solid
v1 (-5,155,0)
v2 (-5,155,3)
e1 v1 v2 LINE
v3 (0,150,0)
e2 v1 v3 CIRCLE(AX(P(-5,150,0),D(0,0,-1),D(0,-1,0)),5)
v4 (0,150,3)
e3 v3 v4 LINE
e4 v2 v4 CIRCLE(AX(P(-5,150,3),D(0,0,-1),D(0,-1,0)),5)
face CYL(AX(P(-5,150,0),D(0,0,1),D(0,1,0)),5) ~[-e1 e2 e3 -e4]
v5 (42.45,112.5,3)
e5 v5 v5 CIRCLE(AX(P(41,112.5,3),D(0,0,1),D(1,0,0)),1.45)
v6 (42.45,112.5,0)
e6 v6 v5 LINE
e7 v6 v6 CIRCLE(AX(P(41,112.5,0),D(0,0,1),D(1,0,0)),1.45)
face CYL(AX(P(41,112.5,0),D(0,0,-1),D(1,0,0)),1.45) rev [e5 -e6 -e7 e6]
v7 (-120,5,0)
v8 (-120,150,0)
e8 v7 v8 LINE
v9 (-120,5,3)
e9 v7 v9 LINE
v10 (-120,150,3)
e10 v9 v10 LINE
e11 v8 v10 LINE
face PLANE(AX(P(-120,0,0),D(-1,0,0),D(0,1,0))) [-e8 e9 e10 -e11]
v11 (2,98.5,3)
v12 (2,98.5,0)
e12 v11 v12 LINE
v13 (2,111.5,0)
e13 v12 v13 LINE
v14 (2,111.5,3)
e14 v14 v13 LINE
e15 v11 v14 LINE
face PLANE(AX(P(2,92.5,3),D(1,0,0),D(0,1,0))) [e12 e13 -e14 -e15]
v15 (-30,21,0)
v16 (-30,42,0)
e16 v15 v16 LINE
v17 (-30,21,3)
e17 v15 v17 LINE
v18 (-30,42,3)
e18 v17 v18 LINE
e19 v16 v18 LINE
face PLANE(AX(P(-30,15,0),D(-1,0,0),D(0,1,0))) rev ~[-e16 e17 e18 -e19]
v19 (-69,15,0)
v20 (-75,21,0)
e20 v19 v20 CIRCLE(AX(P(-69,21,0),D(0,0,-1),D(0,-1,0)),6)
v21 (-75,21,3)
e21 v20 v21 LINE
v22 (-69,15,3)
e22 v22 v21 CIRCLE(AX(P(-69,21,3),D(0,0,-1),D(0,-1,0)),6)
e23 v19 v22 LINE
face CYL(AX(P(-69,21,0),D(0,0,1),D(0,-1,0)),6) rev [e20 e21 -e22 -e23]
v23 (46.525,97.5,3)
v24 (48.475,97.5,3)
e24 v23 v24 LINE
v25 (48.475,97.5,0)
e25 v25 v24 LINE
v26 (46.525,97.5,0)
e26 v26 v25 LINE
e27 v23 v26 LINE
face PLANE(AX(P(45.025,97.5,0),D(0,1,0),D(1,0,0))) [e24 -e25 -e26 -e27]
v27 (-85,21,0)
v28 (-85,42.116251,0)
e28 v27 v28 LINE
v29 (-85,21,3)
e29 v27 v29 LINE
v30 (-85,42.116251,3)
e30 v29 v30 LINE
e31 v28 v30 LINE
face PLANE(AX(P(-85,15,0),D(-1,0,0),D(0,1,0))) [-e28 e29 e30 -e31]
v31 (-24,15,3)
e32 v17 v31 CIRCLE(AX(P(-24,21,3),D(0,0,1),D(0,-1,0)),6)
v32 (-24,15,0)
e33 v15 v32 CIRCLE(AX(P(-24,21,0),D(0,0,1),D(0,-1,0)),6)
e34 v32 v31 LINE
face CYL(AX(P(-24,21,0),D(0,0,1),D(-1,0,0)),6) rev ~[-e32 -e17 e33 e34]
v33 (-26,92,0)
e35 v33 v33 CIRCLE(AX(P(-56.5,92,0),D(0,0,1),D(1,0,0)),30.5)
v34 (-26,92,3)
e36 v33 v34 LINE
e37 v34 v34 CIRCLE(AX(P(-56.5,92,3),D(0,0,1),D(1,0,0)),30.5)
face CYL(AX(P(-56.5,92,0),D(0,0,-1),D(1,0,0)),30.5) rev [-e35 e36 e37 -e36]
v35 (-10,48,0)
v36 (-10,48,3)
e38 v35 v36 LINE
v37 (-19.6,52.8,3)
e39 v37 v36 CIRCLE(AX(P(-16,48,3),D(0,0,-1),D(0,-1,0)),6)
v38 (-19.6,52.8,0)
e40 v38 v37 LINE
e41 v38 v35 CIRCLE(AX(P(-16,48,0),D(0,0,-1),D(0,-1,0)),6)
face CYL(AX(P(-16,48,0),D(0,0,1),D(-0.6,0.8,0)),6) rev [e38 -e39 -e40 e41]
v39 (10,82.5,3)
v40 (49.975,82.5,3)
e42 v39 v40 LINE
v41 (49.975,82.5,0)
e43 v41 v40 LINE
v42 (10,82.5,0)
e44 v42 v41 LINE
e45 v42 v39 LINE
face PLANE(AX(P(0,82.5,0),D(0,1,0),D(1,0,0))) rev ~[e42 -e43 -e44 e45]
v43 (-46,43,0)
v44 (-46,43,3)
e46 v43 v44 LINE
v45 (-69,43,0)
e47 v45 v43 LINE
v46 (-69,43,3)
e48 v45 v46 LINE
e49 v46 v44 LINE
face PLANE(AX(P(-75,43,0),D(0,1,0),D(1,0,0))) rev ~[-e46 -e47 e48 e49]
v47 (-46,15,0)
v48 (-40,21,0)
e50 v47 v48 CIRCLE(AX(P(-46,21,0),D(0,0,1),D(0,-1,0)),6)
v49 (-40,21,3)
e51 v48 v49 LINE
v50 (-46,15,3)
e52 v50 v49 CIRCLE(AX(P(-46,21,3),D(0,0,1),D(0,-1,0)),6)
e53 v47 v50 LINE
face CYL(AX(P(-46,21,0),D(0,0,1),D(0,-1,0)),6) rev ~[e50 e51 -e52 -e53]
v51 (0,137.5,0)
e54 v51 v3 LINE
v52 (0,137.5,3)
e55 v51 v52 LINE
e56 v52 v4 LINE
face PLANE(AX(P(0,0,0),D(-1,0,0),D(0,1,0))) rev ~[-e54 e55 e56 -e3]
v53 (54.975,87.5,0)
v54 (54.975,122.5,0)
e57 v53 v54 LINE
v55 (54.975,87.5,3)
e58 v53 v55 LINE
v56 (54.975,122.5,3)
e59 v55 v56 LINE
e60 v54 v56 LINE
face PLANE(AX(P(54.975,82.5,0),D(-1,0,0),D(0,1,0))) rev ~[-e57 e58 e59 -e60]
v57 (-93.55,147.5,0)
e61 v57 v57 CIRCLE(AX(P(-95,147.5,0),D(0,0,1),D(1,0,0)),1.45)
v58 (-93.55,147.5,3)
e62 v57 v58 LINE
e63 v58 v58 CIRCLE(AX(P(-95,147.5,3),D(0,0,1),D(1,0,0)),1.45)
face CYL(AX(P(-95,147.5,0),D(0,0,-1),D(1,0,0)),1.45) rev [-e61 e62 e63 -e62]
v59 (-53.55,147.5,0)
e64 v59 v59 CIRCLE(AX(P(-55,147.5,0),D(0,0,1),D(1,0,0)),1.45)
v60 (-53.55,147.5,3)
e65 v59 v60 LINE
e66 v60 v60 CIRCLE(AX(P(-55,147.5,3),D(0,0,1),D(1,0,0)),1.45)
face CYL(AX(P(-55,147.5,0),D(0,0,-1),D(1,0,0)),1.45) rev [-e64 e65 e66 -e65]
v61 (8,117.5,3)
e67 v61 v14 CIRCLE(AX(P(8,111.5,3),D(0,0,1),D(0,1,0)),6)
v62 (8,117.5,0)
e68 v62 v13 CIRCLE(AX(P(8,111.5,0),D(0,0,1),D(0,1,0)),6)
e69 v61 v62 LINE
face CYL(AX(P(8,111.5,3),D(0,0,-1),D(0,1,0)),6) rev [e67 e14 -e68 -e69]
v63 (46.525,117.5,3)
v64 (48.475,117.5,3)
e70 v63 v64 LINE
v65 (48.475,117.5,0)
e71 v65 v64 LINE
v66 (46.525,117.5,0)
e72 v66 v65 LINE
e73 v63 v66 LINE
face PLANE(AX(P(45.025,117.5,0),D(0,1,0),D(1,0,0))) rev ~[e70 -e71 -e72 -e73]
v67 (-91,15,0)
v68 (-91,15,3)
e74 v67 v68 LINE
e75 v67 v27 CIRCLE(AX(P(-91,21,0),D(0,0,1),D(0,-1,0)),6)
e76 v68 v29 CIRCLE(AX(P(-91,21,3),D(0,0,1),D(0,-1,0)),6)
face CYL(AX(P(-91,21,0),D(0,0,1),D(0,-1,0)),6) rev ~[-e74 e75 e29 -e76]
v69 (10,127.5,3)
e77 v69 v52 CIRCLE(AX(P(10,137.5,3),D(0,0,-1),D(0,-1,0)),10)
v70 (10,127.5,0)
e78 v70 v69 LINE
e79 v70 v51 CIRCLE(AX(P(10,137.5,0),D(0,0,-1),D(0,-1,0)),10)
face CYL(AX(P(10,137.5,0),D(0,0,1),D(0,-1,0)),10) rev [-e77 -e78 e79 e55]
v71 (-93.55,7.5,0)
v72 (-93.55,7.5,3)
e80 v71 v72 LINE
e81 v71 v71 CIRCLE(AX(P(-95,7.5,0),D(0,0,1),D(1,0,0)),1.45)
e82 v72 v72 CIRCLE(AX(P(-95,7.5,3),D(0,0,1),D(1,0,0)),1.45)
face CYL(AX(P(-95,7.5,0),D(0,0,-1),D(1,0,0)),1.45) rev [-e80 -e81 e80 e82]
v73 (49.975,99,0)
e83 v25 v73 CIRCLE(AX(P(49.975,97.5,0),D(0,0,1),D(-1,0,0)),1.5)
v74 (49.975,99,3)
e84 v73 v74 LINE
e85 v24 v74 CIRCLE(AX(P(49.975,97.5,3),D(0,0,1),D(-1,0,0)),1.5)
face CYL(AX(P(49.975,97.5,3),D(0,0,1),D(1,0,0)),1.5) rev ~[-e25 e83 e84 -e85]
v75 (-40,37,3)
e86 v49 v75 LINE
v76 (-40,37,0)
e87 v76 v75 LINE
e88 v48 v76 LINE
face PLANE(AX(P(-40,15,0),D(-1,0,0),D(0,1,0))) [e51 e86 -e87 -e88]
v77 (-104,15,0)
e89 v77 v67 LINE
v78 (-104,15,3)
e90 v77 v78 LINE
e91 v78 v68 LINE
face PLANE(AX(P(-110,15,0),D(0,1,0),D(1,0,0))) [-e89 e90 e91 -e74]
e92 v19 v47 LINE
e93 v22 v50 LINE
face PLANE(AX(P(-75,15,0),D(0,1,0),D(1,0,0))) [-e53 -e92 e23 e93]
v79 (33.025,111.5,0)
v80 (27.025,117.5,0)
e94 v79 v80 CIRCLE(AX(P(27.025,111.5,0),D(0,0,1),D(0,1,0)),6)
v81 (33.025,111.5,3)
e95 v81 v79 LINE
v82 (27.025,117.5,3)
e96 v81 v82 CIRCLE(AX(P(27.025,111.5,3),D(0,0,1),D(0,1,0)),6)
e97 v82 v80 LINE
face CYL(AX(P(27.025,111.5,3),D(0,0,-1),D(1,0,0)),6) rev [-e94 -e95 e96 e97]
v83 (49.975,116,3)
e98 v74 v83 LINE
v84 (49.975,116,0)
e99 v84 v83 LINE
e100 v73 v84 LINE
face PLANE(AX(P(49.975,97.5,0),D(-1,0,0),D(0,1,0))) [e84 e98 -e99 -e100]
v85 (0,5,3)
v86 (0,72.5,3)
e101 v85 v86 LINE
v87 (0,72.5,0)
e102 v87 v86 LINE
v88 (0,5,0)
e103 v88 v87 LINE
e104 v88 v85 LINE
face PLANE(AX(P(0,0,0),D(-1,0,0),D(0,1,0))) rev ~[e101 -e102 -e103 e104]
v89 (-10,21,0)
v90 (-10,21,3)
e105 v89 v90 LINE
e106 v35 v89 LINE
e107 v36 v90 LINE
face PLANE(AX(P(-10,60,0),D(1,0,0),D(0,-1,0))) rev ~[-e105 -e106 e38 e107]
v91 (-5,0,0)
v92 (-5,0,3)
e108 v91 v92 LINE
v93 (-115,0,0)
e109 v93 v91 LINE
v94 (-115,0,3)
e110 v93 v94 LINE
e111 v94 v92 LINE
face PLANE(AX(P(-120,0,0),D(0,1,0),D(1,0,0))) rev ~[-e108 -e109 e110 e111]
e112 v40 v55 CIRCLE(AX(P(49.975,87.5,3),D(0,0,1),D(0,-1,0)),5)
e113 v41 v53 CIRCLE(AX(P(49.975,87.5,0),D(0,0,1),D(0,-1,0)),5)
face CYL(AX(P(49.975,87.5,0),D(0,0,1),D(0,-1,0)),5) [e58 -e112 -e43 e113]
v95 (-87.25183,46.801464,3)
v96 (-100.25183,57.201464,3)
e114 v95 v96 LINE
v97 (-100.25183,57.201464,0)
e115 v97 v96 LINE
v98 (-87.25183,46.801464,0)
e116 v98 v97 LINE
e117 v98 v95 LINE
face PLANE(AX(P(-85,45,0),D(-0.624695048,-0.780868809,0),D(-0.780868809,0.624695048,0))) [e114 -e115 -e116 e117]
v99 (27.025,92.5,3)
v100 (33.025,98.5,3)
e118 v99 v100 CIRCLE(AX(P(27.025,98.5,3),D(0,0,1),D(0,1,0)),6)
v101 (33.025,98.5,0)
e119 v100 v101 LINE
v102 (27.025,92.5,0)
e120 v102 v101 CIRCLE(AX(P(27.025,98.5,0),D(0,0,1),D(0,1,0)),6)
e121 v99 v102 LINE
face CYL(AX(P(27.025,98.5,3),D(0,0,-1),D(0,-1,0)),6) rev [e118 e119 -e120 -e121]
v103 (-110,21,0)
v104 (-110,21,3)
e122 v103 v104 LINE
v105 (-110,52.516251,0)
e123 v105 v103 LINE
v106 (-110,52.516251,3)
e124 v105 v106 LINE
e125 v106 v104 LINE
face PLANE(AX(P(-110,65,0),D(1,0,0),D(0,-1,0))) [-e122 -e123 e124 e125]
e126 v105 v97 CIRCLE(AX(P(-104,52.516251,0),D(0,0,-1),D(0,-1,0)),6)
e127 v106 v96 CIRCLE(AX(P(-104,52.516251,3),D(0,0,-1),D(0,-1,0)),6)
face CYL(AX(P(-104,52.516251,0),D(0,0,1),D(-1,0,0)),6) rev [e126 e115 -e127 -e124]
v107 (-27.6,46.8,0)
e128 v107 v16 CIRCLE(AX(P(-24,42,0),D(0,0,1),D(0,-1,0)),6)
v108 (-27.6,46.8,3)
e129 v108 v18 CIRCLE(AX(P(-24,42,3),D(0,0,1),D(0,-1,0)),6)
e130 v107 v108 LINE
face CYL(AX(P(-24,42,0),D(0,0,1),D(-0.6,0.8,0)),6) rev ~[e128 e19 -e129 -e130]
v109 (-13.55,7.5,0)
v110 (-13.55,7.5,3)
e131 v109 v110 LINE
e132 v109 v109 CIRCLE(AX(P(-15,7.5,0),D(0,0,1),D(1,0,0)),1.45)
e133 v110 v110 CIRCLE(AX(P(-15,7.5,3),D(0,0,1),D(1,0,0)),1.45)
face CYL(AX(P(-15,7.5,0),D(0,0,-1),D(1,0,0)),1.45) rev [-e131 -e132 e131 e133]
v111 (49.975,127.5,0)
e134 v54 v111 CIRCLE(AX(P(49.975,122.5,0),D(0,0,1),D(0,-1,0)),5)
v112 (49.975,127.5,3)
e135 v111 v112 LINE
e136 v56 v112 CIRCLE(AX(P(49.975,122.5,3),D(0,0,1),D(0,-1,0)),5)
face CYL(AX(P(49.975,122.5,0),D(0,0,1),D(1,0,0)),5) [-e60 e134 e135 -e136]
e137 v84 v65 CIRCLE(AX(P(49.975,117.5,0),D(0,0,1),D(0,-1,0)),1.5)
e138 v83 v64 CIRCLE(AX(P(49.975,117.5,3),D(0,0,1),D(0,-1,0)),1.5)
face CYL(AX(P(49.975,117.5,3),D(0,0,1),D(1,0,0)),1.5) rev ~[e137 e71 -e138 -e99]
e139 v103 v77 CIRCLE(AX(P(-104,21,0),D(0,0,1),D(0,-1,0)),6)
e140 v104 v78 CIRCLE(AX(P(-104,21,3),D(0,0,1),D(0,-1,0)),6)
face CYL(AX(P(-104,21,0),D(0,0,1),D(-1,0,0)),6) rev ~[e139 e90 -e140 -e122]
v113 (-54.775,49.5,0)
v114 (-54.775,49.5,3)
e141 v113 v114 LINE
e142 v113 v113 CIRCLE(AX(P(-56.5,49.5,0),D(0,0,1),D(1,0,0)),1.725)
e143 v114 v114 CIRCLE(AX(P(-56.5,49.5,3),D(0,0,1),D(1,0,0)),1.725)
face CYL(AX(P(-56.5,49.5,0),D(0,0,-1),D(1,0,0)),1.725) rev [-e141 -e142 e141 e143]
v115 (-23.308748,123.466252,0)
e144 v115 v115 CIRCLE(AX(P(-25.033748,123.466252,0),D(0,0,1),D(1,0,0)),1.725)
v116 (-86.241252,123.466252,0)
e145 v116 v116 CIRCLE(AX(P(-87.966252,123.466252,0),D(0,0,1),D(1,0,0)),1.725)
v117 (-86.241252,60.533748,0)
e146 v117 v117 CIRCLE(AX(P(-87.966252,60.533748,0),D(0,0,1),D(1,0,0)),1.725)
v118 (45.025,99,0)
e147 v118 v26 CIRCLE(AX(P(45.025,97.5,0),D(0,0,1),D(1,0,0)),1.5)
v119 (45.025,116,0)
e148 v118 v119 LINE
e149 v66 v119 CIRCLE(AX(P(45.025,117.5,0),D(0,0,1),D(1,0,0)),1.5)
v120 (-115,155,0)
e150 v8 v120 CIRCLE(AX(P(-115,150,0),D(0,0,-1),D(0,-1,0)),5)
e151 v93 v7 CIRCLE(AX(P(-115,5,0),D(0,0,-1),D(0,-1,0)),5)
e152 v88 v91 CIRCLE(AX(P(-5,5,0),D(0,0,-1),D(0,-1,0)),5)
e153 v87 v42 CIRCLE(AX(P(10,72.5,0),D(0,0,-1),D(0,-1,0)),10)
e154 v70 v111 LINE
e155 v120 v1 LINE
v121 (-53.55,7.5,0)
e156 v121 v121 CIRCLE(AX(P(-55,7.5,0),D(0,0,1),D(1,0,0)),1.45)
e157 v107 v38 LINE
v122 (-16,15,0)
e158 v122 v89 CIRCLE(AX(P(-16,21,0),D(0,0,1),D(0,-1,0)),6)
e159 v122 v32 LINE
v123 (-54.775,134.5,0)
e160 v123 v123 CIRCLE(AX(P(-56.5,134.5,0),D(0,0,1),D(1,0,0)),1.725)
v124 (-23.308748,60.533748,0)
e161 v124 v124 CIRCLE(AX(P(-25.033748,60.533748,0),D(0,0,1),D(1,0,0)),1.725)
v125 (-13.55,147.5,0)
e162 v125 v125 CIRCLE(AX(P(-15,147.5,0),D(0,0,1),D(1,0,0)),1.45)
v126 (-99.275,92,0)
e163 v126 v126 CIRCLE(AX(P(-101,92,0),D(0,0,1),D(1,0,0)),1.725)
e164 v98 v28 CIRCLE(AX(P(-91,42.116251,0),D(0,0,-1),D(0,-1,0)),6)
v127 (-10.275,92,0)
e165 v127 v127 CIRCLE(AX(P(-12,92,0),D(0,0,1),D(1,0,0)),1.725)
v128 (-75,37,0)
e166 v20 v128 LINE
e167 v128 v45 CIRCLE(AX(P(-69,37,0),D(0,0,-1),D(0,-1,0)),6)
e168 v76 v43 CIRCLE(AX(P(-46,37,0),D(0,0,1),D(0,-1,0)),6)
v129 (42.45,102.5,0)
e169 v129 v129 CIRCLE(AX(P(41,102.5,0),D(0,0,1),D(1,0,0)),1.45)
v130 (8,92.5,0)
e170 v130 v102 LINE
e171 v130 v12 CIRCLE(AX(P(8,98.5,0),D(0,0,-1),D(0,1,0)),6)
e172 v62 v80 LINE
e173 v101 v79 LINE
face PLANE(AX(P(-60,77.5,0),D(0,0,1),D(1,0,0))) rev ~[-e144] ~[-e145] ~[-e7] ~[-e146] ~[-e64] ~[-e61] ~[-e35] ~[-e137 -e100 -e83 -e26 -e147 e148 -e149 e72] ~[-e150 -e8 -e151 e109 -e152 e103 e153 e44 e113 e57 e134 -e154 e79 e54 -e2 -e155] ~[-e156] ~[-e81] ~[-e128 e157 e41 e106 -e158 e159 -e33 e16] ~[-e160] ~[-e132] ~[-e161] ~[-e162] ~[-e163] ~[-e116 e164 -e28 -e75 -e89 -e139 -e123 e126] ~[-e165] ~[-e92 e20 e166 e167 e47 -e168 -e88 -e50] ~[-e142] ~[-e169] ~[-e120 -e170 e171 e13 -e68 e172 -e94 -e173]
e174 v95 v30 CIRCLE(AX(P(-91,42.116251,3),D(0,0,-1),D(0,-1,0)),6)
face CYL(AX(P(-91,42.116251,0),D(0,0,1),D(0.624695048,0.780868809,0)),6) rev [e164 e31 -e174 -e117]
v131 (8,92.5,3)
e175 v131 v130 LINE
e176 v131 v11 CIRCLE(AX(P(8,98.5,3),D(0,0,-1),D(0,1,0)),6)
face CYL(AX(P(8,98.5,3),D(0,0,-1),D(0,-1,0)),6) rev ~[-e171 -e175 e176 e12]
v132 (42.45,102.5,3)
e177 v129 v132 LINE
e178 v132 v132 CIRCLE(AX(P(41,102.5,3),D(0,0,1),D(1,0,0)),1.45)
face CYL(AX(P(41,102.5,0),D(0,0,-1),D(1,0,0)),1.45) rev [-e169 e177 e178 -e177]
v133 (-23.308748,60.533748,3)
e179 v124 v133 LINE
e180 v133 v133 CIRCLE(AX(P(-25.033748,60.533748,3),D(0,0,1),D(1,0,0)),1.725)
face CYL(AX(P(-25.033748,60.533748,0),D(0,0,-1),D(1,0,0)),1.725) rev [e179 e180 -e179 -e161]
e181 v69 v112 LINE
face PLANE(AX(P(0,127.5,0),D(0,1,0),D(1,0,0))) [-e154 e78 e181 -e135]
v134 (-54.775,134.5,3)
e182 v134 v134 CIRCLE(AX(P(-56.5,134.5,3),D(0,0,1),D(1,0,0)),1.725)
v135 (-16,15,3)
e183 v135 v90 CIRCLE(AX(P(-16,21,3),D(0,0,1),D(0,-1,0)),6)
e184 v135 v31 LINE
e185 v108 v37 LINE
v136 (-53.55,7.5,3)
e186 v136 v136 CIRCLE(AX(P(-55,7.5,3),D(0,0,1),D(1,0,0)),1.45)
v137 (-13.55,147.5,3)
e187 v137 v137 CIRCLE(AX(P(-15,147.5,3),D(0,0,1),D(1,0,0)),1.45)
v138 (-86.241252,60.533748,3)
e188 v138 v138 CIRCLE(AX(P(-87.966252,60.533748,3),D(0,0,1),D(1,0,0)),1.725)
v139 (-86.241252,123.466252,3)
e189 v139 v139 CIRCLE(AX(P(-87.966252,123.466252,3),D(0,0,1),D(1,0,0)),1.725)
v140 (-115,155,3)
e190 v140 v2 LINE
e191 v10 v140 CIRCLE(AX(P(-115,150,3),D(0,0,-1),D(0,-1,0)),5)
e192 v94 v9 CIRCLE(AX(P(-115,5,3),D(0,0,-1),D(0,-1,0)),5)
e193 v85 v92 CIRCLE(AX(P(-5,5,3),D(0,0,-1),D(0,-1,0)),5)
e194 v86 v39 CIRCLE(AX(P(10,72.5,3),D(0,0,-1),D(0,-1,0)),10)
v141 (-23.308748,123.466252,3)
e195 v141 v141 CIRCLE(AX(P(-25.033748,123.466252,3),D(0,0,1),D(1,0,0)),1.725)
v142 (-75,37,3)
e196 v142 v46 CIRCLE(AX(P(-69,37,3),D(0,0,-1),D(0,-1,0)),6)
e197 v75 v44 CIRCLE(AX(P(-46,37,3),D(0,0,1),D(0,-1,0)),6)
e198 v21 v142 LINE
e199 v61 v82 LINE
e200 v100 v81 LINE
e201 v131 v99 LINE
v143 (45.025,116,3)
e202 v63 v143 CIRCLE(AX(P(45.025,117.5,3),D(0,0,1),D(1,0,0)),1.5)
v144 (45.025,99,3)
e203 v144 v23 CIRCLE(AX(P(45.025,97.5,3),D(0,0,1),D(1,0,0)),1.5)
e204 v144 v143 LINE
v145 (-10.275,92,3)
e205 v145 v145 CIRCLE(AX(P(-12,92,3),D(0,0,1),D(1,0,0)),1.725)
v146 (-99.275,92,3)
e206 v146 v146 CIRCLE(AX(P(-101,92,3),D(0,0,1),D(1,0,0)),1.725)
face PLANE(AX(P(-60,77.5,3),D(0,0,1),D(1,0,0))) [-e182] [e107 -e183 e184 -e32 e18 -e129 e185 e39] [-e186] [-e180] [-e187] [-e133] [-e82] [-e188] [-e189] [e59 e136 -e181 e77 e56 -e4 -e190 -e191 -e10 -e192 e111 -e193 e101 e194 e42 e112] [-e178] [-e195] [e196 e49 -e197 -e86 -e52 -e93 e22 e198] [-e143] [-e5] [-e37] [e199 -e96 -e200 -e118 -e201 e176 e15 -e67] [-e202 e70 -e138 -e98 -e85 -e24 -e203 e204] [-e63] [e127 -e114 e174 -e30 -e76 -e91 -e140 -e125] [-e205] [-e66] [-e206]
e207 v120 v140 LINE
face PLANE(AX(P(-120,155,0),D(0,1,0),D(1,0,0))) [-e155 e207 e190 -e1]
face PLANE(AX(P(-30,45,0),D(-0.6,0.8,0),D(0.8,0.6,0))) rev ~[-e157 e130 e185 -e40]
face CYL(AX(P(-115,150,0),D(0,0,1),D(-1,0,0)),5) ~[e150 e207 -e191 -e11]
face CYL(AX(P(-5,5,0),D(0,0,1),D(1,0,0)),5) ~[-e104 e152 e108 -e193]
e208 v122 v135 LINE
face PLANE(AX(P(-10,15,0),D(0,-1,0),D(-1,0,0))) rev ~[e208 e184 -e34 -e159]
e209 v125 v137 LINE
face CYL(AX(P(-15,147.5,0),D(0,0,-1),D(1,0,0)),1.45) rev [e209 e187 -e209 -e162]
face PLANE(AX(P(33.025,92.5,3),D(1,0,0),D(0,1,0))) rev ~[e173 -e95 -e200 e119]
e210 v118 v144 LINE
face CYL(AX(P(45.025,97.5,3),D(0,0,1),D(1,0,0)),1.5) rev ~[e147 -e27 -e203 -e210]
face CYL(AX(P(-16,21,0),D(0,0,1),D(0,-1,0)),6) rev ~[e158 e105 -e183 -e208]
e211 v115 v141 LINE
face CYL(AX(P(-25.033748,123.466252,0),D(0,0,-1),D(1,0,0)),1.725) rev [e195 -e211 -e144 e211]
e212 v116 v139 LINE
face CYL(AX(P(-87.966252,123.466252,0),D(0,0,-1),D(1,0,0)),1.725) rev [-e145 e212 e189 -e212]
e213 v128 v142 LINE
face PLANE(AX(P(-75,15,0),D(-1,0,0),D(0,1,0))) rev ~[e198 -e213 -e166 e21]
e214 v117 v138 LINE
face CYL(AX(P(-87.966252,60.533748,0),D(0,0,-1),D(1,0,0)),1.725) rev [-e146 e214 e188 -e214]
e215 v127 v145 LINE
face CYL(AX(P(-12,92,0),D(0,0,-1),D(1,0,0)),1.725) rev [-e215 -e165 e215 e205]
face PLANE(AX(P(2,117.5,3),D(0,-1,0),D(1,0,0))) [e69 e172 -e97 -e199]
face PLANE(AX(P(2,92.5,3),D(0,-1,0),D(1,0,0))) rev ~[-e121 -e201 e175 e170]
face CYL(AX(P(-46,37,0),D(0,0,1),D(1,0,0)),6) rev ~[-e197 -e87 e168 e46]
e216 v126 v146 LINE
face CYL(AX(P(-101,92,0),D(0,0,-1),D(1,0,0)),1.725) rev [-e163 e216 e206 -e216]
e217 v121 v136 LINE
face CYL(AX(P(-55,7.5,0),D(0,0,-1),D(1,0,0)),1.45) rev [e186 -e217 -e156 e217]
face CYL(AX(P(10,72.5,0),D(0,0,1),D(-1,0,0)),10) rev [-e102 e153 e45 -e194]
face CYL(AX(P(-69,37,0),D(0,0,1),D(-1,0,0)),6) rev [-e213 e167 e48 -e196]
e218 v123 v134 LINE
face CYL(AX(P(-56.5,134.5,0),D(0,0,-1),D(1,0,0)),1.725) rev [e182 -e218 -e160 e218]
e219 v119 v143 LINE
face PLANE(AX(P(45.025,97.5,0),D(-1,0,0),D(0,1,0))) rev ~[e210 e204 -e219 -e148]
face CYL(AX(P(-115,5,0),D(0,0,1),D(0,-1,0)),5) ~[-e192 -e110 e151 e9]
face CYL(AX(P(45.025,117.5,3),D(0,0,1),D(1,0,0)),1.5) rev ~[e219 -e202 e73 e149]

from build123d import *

# Parameters (mm, degrees)
SKETCH_1_W          = 120
SKETCH_1_H          = 155
SKETCH_1_R          = 1.45
SKETCH_1_R_2        = 30.5
SKETCH_1_R_3        = 1.725
SKETCH_1_W_2        = 35
SKETCH_1_H_2        = 28
SKETCH_1_W_3        = 54.975
SKETCH_1_H_3        = 45
SKETCH_1_W_4        = 4.95
SKETCH_1_H_4        = 20
EXTRUDE_1_DEPTH     = 3
FILLET_1_R          = 6
FILLET_2_R          = 10
SKETCH_2_W          = 31.025
SKETCH_2_H          = 25
CUT_EXTRUDE_1_DEPTH = 197.04591299
FILLET_3_R          = 6
FILLET_4_R          = 5
SKETCH_3_R          = 1.5
CUT_EXTRUDE_2_DEPTH = 197.04591299


with BuildPart() as part:
    # 草图1 → 凸台-拉伸1 (new body)
    # profile 1 of 2: a face of its own
    with BuildSketch(Plane.XY):
        with Locations((-60, 77.5)):
            Rectangle(SKETCH_1_W, SKETCH_1_H)
        with Locations((-15, 7.5)):
            Circle(SKETCH_1_R, mode=Mode.SUBTRACT)
        with Locations((-55, 7.5)):
            Circle(SKETCH_1_R, mode=Mode.SUBTRACT)
        with Locations((-15, 147.5)):
            Circle(SKETCH_1_R, mode=Mode.SUBTRACT)
        with Locations((-55, 147.5)):
            Circle(SKETCH_1_R, mode=Mode.SUBTRACT)
        with Locations((-56.5, 92)):
            Circle(SKETCH_1_R_2, mode=Mode.SUBTRACT)
        with Locations((-56.5, 134.5)):
            Circle(SKETCH_1_R_3, mode=Mode.SUBTRACT)
        with Locations((-56.5, 49.5)):
            Circle(SKETCH_1_R_3, mode=Mode.SUBTRACT)
        with Locations((-87.966251763, 123.466251763)):
            Circle(SKETCH_1_R_3, mode=Mode.SUBTRACT)
        with Locations((-87.966251763, 60.533748237)):
            Circle(SKETCH_1_R_3, mode=Mode.SUBTRACT)
        with Locations((-25.033748237, 60.533748237)):
            Circle(SKETCH_1_R_3, mode=Mode.SUBTRACT)
        with Locations((-25.033748237, 123.466251763)):
            Circle(SKETCH_1_R_3, mode=Mode.SUBTRACT)
        with Locations((-12, 92)):
            Circle(SKETCH_1_R_3, mode=Mode.SUBTRACT)
        with Locations((-101, 92)):
            Circle(SKETCH_1_R_3, mode=Mode.SUBTRACT)
        with Locations((-95, 7.5)):
            Circle(SKETCH_1_R, mode=Mode.SUBTRACT)
        with Locations((-95, 147.5)):
            Circle(SKETCH_1_R, mode=Mode.SUBTRACT)
        Polygon((-110, 65), (-110, 15), (-85, 15), (-85, 45), align=None, mode=Mode.SUBTRACT)
        with Locations((-57.5, 29)):
            Rectangle(SKETCH_1_W_2, SKETCH_1_H_2, mode=Mode.SUBTRACT)
        Polygon((-10, 60), (-10, 15), (-30, 15), (-30, 45), align=None, mode=Mode.SUBTRACT)
    # profile 2 of 2: a face of its own
    with BuildSketch(Plane.XY):
        with Locations((27.4875, 105)):
            Rectangle(SKETCH_1_W_3, SKETCH_1_H_3)
        with Locations((41, 102.5)):
            Circle(SKETCH_1_R, mode=Mode.SUBTRACT)
        with Locations((41, 112.5)):
            Circle(SKETCH_1_R, mode=Mode.SUBTRACT)
        with Locations((47.5, 107.5)):
            Rectangle(SKETCH_1_W_4, SKETCH_1_H_4, mode=Mode.SUBTRACT)
    extrude(amount=EXTRUDE_1_DEPTH)

    # 圆角1
    fillet_1_edges = [part.edges().sort_by_distance(p)[0] for p in [
        (-75, 43, 1.5),
        (-75, 15, 1.5),
        (-40, 15, 1.5),
        (-40, 43, 1.5),
        (-110, 65, 1.5),
        (-110, 15, 1.5),
        (-85, 15, 1.5),
        (-85, 45, 1.5),
        (-30, 15, 1.5),
        (-10, 15, 1.5),
        (-10, 60, 1.5),
        (-30, 45, 1.5),
    ]]
    fillet(fillet_1_edges, radius=FILLET_1_R)

    # 圆角2
    fillet_2_edges = [part.edges().sort_by_distance(p)[0] for p in [
        (0, 82.5, 1.5),
        (0, 127.5, 1.5),
    ]]
    fillet(fillet_2_edges, radius=FILLET_2_R)

    # 草图2 → 切除-拉伸1 (cut, through all)
    with BuildSketch(Plane.XY.offset(3)):
        with Locations((17.5125, 105)):
            Rectangle(SKETCH_2_W, SKETCH_2_H)
    extrude(amount=-CUT_EXTRUDE_1_DEPTH, mode=Mode.SUBTRACT)

    # 圆角3
    fillet_3_edges = [part.edges().sort_by_distance(p)[0] for p in [
        (2, 92.5, 1.5),
        (2, 117.5, 1.5),
        (33.025, 117.5, 1.5),
        (33.025, 92.5, 1.5),
    ]]
    fillet(fillet_3_edges, radius=FILLET_3_R)

    # 圆角4
    fillet_4_edges = [part.edges().sort_by_distance(p)[0] for p in [
        (54.975, 82.5, 1.5),
        (0, 0, 1.5),
        (-120, 0, 1.5),
        (-120, 155, 1.5),
        (0, 155, 1.5),
        (54.975, 127.5, 1.5),
    ]]
    fillet(fillet_4_edges, radius=FILLET_4_R)

    # 草图3 → 切除-拉伸2 (cut, through all)
    with BuildSketch(Plane.XY.offset(3)):
        with Locations((45.025, 117.5)):
            Circle(SKETCH_3_R)
        with Locations((49.975, 117.5)):
            Circle(SKETCH_3_R)
        with Locations((45.025, 97.5)):
            Circle(SKETCH_3_R)
        with Locations((49.975, 97.5)):
            Circle(SKETCH_3_R)
    extrude(amount=-CUT_EXTRUDE_2_DEPTH, mode=Mode.SUBTRACT)


solid = part.part
